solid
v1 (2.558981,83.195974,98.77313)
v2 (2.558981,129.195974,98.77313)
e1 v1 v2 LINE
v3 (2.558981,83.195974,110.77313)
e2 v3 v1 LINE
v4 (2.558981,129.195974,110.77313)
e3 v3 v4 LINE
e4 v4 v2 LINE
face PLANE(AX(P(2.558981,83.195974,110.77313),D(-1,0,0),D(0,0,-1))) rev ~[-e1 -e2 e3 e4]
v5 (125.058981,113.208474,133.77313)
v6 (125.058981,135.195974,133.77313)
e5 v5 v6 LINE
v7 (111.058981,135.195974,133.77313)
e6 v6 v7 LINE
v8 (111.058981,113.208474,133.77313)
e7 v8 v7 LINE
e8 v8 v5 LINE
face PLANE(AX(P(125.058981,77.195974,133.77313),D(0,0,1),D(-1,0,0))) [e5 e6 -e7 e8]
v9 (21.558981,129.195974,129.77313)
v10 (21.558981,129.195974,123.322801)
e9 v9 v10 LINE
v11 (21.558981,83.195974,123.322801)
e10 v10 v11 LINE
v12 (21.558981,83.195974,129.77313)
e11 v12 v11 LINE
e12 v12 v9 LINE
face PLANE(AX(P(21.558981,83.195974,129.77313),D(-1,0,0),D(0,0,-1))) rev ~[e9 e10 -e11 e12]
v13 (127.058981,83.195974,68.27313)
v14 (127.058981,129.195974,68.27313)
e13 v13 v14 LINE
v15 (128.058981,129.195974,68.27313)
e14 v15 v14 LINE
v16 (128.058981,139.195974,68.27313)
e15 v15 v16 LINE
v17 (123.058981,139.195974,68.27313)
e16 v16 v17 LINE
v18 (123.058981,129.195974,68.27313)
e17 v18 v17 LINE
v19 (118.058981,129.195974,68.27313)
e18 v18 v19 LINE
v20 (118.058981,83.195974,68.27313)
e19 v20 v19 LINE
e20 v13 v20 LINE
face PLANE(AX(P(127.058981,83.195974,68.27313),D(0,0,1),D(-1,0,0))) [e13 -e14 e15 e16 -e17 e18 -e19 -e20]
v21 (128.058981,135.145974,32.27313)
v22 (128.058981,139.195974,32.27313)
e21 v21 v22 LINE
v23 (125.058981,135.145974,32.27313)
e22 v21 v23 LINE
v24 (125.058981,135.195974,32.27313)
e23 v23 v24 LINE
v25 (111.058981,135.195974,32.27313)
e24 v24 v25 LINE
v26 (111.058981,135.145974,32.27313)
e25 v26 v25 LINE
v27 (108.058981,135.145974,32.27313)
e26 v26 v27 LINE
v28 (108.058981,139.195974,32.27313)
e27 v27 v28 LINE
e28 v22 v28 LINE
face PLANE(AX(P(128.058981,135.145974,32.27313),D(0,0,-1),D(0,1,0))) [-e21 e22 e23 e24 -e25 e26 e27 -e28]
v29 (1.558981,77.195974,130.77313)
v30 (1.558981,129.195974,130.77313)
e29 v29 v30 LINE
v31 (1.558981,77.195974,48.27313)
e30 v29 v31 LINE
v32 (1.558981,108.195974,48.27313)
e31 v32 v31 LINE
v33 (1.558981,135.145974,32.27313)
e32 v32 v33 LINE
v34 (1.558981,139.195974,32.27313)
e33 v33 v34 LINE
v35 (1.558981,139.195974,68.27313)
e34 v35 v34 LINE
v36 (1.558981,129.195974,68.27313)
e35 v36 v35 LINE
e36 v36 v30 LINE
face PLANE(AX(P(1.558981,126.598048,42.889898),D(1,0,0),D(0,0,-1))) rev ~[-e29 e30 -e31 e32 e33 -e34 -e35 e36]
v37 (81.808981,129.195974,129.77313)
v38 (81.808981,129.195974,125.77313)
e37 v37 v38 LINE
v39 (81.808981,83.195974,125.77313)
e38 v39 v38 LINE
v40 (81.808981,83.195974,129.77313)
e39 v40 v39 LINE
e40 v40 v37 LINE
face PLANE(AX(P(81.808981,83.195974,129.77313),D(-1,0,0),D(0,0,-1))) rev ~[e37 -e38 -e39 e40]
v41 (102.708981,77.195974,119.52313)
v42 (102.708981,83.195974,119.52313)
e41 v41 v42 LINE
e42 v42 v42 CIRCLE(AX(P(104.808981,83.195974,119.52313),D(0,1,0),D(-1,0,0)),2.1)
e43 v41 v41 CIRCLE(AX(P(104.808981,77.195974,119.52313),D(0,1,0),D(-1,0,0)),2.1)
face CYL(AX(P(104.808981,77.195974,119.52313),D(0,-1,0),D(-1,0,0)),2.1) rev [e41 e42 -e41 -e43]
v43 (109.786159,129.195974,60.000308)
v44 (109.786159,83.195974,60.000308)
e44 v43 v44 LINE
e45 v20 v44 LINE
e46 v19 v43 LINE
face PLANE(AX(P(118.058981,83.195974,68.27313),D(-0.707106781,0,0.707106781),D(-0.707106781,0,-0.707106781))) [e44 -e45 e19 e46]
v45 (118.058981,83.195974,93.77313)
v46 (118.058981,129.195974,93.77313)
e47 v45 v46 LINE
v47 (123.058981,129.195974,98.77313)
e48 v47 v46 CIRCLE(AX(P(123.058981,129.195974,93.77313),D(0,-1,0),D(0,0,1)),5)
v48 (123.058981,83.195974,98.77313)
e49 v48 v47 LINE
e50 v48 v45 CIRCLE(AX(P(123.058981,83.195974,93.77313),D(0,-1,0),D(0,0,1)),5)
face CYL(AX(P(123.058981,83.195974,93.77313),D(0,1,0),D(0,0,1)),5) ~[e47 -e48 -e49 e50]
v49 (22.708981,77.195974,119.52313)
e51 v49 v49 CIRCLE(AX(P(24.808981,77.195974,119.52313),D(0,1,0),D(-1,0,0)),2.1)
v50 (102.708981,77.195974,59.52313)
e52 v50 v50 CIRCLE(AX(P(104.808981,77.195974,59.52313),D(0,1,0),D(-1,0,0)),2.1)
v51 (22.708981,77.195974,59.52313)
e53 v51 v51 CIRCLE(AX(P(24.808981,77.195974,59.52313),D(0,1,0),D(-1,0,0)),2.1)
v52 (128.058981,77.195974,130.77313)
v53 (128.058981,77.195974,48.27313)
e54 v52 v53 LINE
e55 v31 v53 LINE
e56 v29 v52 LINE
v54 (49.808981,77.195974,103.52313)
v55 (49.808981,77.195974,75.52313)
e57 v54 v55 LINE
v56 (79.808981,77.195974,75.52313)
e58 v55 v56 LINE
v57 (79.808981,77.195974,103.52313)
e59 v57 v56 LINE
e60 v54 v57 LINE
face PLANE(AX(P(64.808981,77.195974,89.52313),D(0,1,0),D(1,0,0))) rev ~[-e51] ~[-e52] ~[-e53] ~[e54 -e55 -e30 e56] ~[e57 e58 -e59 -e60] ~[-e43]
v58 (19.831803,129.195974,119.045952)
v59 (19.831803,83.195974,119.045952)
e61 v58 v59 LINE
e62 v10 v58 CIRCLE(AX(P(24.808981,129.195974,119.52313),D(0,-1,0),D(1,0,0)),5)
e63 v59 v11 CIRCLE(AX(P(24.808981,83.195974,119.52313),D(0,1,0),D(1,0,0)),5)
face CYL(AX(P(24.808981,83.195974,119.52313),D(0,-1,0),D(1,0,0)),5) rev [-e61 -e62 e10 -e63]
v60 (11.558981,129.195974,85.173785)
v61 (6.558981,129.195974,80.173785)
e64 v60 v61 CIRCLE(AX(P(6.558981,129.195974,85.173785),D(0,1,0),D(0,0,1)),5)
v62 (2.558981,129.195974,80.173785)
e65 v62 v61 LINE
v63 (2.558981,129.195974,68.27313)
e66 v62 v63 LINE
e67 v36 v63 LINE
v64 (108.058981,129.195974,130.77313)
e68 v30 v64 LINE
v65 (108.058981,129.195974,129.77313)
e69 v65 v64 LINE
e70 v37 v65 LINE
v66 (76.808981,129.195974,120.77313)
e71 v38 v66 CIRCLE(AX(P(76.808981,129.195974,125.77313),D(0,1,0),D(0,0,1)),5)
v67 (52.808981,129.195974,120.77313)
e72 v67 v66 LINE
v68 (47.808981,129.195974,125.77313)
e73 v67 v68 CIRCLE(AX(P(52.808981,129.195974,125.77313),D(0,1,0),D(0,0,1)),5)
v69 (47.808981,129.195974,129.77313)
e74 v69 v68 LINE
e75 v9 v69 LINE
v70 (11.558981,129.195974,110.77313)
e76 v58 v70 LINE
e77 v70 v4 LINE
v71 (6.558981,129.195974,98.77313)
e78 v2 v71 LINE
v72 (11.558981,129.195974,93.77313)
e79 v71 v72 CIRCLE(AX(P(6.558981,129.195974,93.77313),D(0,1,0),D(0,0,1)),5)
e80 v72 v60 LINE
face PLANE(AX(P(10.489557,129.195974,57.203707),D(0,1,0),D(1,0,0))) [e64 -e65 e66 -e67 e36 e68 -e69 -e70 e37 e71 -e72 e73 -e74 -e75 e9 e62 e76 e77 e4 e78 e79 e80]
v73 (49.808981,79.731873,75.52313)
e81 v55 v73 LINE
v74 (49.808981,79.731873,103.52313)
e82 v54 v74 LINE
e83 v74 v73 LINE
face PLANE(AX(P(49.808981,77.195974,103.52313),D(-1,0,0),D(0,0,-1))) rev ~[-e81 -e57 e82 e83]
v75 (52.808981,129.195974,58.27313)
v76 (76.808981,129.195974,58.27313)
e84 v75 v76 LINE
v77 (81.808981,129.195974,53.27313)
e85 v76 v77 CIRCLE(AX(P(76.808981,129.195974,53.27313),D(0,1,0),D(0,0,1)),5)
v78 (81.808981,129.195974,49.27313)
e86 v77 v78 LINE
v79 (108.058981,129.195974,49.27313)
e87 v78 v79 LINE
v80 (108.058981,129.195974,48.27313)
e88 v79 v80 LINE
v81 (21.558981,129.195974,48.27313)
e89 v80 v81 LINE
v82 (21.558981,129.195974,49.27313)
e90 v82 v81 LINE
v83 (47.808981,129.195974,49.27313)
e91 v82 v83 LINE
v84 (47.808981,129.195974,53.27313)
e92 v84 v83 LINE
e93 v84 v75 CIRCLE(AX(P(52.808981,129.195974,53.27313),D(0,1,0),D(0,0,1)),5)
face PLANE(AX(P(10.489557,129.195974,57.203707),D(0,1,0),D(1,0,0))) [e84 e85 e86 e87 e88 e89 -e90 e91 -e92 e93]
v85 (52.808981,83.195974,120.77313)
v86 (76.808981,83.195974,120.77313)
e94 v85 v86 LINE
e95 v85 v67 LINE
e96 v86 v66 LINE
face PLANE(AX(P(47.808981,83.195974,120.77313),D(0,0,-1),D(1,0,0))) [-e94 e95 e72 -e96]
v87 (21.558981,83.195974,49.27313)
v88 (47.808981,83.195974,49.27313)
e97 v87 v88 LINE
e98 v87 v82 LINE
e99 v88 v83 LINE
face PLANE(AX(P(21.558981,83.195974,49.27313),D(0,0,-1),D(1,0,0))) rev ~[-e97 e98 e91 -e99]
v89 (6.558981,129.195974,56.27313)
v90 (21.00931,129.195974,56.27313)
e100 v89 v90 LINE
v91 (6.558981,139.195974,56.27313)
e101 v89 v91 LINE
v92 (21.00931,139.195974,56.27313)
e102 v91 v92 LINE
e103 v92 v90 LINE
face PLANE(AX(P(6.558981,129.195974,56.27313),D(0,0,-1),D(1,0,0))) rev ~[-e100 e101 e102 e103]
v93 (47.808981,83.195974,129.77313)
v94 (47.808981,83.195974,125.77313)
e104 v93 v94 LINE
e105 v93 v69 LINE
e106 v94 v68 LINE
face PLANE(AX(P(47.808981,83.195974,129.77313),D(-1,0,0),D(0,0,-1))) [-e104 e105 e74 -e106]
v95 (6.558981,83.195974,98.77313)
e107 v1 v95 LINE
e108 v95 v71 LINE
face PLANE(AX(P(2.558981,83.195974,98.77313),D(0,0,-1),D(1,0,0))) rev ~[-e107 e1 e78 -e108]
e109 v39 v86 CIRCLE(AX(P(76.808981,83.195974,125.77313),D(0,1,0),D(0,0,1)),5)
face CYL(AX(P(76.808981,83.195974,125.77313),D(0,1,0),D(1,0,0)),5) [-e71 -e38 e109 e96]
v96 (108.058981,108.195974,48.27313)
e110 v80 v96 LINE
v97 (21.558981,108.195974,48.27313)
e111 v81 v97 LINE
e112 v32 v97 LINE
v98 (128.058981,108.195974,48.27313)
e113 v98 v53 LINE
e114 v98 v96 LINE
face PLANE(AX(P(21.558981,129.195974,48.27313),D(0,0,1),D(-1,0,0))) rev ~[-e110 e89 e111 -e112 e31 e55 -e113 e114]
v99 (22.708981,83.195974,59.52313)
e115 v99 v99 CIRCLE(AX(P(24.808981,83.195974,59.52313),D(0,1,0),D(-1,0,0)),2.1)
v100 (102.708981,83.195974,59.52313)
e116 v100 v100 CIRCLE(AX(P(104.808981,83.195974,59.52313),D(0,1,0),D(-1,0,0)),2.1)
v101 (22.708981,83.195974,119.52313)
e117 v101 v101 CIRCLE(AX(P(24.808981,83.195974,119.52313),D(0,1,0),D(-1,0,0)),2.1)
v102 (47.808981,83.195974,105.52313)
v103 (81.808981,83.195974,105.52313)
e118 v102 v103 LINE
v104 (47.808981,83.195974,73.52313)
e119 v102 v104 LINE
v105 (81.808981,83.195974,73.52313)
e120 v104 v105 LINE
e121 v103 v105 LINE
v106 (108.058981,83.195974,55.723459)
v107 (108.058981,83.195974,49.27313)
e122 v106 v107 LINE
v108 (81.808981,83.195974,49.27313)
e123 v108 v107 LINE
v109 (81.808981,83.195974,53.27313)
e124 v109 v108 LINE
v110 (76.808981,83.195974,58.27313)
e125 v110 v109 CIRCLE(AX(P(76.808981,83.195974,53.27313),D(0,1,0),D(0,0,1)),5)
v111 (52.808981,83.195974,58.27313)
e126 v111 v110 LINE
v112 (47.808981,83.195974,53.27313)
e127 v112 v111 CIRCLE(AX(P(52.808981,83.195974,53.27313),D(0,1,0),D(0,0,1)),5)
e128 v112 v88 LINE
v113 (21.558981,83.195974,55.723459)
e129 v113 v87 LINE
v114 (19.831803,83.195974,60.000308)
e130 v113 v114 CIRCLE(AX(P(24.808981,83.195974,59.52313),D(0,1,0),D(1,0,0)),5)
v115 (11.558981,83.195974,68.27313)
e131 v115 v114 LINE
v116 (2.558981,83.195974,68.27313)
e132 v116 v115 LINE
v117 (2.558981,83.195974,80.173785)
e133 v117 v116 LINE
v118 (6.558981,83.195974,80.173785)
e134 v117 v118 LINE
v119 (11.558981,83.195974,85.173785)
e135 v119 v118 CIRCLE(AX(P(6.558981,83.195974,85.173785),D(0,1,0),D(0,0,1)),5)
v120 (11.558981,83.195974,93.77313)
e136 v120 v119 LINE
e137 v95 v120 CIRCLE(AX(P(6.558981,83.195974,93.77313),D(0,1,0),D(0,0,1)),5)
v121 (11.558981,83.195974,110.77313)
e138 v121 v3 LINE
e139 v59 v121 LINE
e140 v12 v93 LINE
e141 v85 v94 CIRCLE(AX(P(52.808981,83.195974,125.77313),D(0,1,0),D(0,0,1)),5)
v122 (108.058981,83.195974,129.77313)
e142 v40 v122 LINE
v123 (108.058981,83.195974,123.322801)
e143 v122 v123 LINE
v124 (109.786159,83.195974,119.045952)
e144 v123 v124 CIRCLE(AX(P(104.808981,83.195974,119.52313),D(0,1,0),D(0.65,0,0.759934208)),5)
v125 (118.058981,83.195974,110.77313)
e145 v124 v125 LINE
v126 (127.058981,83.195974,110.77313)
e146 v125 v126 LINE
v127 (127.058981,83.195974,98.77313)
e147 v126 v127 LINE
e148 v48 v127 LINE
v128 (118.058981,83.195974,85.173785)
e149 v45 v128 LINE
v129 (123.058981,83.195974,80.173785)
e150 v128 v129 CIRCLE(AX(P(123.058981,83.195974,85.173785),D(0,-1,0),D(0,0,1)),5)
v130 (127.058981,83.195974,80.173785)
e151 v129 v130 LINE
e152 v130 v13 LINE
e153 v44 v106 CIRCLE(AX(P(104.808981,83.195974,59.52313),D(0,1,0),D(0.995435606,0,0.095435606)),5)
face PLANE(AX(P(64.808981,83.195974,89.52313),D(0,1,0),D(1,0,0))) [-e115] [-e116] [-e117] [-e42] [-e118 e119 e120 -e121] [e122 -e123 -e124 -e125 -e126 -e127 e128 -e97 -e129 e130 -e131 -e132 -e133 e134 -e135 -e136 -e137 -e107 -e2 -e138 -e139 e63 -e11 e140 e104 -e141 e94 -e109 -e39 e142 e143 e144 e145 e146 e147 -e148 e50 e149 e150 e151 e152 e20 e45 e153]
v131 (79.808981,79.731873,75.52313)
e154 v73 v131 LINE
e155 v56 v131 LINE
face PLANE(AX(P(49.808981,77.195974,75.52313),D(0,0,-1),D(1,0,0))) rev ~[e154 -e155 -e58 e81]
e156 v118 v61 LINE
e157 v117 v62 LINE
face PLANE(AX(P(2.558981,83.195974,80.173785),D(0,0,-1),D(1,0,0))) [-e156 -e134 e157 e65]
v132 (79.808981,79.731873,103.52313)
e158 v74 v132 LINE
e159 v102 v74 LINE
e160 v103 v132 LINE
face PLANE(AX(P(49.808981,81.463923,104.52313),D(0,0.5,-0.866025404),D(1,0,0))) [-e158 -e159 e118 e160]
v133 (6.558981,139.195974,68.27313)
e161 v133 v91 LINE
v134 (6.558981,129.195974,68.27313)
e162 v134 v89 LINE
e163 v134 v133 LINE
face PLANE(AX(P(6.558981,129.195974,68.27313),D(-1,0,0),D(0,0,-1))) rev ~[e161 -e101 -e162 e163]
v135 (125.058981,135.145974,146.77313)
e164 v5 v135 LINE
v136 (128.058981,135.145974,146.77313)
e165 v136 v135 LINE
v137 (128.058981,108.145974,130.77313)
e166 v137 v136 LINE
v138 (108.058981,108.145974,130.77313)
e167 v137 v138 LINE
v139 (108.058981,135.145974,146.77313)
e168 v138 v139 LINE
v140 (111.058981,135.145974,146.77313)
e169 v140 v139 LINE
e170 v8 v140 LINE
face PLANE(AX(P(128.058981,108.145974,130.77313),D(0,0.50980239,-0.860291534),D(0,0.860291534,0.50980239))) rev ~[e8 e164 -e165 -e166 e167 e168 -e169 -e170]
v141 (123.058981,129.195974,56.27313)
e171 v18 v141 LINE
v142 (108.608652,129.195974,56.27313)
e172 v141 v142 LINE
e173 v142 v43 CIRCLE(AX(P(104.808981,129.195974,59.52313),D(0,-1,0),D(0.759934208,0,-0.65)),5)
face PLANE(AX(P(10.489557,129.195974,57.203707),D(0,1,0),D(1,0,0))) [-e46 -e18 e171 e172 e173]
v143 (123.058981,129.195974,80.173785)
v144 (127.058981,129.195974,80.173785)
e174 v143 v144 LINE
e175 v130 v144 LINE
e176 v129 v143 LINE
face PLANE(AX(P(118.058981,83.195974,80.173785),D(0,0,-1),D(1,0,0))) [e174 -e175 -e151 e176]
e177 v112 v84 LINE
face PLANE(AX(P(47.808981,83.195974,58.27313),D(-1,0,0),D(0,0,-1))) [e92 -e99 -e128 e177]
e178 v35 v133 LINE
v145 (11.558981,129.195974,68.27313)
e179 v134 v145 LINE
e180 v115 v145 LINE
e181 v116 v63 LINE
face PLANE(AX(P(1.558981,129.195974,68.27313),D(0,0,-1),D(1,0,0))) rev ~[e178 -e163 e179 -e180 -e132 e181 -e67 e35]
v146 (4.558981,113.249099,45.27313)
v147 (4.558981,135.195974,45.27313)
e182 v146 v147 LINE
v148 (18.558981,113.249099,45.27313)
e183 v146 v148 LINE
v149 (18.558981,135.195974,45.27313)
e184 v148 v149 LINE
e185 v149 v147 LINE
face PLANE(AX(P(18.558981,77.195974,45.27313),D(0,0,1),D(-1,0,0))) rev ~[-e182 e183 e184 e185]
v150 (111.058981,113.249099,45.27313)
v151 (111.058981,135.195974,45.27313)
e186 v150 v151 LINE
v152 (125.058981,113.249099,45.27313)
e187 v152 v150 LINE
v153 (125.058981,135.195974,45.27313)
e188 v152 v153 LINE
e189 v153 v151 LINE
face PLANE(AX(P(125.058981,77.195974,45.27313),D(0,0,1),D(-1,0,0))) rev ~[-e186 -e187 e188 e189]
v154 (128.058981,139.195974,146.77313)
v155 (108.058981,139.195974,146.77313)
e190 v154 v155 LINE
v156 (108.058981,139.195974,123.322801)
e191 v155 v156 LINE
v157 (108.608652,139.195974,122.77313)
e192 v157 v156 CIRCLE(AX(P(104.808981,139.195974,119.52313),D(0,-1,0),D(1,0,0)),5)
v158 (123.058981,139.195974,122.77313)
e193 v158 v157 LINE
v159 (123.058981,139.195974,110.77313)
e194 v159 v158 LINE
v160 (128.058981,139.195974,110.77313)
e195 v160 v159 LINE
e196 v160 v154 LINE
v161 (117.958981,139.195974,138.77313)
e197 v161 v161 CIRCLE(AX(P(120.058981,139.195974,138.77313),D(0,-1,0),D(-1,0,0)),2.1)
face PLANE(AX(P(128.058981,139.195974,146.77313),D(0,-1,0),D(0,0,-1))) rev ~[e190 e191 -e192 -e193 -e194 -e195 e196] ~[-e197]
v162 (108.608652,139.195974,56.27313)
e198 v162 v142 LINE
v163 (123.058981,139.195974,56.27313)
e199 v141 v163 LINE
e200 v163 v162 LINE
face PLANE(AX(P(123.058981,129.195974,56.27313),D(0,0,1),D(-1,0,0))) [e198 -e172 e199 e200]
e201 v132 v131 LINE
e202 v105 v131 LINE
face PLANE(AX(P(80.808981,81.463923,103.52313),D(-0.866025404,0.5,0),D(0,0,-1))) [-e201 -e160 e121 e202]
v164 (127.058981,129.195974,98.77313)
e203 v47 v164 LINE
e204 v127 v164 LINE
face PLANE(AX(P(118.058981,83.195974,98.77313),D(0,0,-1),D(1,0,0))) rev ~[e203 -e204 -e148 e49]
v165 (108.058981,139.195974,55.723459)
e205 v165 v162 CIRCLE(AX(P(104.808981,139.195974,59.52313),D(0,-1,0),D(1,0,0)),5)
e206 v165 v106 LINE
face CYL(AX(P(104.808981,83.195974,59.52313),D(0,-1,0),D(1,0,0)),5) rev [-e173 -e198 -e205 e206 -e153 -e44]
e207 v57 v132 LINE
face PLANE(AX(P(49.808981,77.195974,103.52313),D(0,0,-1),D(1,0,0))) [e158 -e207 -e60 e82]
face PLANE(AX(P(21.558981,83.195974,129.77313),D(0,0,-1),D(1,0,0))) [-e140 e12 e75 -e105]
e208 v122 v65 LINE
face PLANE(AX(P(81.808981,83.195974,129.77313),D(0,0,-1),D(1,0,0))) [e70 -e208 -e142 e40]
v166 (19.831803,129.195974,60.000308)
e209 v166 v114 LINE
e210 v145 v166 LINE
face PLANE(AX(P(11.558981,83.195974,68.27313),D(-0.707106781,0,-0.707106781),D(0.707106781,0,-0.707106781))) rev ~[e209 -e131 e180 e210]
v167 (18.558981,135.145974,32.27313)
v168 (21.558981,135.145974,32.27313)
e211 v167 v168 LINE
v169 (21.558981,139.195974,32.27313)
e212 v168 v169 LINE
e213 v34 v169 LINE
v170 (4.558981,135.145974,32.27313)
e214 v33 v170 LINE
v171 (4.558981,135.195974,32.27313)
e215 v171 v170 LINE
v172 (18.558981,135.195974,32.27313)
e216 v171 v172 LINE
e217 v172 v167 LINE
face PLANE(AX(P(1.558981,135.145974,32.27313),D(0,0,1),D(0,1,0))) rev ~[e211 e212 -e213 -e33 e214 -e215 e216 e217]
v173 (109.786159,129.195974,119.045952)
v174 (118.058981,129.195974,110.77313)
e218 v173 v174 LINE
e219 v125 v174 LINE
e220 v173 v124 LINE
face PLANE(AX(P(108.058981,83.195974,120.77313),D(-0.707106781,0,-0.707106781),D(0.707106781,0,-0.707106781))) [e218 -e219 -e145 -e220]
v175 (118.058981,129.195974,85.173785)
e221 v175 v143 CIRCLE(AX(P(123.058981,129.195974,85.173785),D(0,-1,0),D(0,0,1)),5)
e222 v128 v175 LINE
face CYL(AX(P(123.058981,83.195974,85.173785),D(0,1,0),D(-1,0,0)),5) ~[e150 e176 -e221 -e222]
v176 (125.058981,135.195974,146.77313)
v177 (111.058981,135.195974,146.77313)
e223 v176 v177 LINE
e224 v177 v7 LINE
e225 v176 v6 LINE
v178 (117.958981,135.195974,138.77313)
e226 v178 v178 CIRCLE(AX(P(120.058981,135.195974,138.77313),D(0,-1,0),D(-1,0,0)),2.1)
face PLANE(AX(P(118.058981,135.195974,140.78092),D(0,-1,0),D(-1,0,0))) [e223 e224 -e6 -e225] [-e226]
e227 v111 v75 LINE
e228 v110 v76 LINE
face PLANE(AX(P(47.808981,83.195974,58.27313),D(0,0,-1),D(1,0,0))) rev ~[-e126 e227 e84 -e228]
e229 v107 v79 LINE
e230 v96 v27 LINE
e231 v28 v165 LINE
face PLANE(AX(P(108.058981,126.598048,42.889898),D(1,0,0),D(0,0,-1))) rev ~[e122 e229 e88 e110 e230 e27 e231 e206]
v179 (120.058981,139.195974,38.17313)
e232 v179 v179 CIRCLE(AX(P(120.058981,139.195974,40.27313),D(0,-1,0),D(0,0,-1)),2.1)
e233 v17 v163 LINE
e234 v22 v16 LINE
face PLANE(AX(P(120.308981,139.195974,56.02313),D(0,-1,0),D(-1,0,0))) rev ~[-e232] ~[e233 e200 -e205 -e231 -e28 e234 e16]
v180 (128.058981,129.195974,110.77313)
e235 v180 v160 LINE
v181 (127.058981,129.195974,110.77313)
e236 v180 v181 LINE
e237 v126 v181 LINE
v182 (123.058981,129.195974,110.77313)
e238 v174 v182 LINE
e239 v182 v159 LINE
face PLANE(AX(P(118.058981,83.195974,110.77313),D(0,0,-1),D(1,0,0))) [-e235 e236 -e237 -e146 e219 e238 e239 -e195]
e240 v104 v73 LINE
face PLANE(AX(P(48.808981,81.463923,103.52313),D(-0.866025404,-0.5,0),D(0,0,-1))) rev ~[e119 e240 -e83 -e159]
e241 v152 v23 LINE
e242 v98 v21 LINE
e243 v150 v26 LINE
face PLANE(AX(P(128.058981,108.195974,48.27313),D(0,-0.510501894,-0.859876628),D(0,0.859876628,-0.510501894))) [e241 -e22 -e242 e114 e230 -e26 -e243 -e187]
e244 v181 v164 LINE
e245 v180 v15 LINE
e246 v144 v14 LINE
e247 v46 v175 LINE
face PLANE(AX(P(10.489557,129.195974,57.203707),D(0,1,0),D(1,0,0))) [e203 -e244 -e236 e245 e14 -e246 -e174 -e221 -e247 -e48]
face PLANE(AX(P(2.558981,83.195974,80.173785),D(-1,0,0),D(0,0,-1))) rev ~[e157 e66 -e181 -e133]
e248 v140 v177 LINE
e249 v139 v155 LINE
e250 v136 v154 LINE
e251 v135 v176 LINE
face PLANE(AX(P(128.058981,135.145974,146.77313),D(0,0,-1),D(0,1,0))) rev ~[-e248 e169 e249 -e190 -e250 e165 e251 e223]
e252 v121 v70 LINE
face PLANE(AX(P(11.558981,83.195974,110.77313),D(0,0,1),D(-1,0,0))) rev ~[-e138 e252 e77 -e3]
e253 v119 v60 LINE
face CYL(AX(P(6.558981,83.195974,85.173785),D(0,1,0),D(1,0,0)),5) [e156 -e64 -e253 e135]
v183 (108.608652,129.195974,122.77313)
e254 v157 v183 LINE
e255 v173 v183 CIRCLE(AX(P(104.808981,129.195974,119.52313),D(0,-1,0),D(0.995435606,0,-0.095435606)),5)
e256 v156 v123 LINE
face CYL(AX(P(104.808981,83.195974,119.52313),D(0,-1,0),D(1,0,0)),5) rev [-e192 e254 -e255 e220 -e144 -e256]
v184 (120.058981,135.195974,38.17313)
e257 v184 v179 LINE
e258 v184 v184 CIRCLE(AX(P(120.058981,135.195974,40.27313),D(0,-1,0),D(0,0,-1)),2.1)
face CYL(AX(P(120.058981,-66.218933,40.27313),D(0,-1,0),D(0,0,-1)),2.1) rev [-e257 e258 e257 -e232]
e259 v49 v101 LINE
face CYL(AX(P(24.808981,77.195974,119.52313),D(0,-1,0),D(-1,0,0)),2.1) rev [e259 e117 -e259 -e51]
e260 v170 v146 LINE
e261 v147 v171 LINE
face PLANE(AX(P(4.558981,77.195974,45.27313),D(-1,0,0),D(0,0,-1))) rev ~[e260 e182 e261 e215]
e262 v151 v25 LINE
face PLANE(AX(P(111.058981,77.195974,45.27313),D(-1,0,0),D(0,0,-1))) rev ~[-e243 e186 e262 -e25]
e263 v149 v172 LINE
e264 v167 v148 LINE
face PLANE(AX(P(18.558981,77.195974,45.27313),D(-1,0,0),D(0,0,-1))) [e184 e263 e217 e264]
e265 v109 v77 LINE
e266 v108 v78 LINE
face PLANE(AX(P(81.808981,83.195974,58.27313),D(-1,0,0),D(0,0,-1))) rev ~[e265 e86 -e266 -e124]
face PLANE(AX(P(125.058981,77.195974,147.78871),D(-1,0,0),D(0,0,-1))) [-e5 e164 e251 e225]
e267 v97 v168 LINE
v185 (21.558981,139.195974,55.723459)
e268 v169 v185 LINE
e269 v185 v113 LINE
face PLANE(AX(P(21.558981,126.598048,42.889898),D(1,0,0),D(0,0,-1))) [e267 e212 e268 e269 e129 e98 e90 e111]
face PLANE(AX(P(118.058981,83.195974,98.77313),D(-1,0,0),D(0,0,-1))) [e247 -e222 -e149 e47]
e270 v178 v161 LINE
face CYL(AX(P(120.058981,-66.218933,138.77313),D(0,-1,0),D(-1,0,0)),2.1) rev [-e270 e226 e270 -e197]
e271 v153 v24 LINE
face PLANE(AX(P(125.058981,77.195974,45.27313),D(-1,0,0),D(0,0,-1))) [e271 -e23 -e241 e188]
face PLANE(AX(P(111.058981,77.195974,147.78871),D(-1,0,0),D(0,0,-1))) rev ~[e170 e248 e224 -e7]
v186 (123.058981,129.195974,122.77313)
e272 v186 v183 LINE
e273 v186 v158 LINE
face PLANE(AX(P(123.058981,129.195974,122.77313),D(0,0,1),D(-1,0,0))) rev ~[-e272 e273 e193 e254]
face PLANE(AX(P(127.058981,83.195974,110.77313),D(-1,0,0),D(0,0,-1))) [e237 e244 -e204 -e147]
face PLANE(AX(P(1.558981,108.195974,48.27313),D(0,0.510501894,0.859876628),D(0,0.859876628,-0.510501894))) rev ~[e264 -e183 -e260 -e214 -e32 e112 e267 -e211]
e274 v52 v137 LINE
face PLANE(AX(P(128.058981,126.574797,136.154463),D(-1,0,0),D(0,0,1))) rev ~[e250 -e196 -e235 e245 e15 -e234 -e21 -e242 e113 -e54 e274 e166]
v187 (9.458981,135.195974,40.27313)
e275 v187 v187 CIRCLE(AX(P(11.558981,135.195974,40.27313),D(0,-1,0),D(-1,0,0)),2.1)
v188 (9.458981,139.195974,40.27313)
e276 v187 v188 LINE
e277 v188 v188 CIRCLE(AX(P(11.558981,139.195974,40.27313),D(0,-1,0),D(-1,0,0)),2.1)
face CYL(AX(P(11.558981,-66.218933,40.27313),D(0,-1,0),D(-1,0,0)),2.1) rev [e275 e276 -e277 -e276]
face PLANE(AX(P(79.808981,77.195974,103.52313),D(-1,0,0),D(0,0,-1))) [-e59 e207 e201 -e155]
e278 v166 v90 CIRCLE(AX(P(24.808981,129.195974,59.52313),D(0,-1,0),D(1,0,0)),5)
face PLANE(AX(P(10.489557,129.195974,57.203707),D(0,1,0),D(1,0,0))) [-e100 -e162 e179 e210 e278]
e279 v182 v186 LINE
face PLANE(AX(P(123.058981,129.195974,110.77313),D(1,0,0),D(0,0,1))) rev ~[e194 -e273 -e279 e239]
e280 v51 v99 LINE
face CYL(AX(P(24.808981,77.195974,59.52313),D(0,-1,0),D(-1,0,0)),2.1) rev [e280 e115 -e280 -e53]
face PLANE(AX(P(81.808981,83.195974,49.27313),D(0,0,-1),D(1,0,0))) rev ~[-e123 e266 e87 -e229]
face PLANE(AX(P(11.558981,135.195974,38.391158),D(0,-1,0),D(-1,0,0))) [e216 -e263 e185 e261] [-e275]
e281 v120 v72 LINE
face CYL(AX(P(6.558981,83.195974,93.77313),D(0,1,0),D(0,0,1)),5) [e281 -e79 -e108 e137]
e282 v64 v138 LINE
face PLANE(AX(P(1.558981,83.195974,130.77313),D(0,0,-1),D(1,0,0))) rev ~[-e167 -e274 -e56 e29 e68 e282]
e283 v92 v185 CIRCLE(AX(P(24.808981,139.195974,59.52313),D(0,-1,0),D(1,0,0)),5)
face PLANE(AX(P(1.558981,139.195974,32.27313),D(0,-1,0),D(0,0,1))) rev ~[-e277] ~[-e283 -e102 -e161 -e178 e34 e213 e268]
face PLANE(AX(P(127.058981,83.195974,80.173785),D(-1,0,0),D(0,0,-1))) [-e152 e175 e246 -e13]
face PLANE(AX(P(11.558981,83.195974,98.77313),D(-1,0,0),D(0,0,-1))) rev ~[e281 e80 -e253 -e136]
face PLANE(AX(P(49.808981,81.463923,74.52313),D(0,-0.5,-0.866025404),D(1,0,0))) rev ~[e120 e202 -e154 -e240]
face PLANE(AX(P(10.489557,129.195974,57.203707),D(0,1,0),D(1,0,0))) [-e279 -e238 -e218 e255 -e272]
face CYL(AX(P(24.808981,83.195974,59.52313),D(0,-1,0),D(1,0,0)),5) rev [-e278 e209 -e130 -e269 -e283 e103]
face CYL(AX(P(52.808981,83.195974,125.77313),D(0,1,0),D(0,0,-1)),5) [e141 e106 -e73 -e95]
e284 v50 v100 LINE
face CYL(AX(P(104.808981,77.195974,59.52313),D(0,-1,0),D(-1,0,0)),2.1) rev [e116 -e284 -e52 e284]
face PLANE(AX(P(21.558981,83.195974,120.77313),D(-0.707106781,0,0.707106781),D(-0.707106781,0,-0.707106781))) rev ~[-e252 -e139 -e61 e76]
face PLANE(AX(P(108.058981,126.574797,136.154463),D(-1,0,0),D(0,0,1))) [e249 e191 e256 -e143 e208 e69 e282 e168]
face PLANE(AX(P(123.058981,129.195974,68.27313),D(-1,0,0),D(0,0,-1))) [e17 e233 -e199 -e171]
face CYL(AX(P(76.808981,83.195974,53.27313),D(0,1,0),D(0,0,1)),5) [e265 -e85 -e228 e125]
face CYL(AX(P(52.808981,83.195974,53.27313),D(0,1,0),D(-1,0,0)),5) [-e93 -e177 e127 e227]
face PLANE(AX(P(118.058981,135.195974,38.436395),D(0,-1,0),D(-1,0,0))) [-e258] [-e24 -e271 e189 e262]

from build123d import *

# Parameters (mm, degrees)
SKETCH_1_W               = 126.5
SKETCH_1_H               = 82.5
SKETCH_1_R               = 2.1
SKETCH_1_W_2             = 30
SKETCH_1_H_2             = 28
EXTRUDE_2_DEPTH          = 6
CHAMFER_1_SIZE           = 2
CHAMFER_1_SIZE2          = 3.464101615
SKETCH_2_W               = 34
SKETCH_2_H               = 10
SKETCH_2_W_2             = 10
SKETCH_2_H_2             = 18.59934511
SKETCH_2_W_3             = 1
SKETCH_2_H_3             = 11.900654894
SKETCH_2_H_4             = 18.599345106
SKETCH_2_H_5             = 12
SKETCH_2_W_4             = 26.25
SKETCH_2_H_6             = 1
SKETCH_2_H_7             = 11.999999996
EXTRUDE_3_DEPTH          = 46
EXTRUDE_4_DEPTH          = 10
EXTRUDE_7_DEPTH          = 20
EXTRUDE_8_DEPTH          = 20
CUT_EXTRUDE_1_DEPTH      = 205.414906938
CUT_EXTRUDE_1_DEPTH_BACK = 205.414906938
SKETCH_6_R               = 2.1
SKETCH_7_W               = 14
SKETCH_7_H               = 13.763943164
SKETCH_7_H_2             = 13.67346934
SKETCH_7_H_3             = 14.015580363
SKETCH_7_H_4             = 13.891937121
CUT_EXTRUDE_2_DEPTH      = 58
FILLET_1_R               = 5
SKETCH_9_R               = 5
CUT_EXTRUDE_4_DEPTH      = 203.675736531


with BuildPart() as part:
    # Эскиз1 → Бобышка-Вытянуть2 (new body)
    with BuildSketch(Plane(origin=(0, 77.195974268, 0), x_dir=(1, 0, 0), z_dir=(0, 1, 0))):
        with Locations((64.808980694, -89.523129836)):
            Rectangle(SKETCH_1_W, SKETCH_1_H)
        with Locations(Location((24.808980694, -59.523129836, 0), (0, 0, 180))):
            Circle(SKETCH_1_R, mode=Mode.SUBTRACT)
        with Locations(Location((104.808980694, -59.523129836, 0), (0, 0, 180))):
            Circle(SKETCH_1_R, mode=Mode.SUBTRACT)
        with Locations(Location((104.808980694, -119.523129836, 0), (0, 0, 180))):
            Circle(SKETCH_1_R, mode=Mode.SUBTRACT)
        with Locations(Location((24.808980694, -119.523129836, 0), (0, 0, 180))):
            Circle(SKETCH_1_R, mode=Mode.SUBTRACT)
        with Locations((64.808980694, -89.523129836)):
            Rectangle(SKETCH_1_W_2, SKETCH_1_H_2, mode=Mode.SUBTRACT)
    extrude(amount=EXTRUDE_2_DEPTH)

    # Фаска1
    chamfer_1_edges = [part.edges().sort_by_distance(p)[0] for p in [
        (49.808980694, 83.195974268, 89.523129836),
        (64.808980694, 83.195974268, 103.523129836),
        (79.808980694, 83.195974268, 89.523129836),
        (64.808980694, 83.195974268, 75.523129836),
    ]]
    chamfer_1_side = [part.faces().sort_by_distance(p)[0] for p in [
        (64.808980694, 83.195974268, 49.78337816),
    ]]
    chamfer(chamfer_1_edges, length=CHAMFER_1_SIZE, length2=CHAMFER_1_SIZE2, reference=chamfer_1_side[0])

    # Эскиз2 → Бобышка-Вытянуть3 (add)
    with BuildSketch(Plane(origin=(0, 83.195974268, 0), x_dir=(1, 0, 0), z_dir=(0, 1, 0))):
        Polygon((1.558980694, -68.273129836), (11.558980694, -68.273129836), (21.558980694, -58.273129836), (21.558980694, -48.273129836), (1.558980694, -48.273129836), align=None)
        with Locations((64.808980694, -53.273129836)):
            Rectangle(SKETCH_2_W, SKETCH_2_H)
        Polygon((118.058980694, -68.273129836), (108.058980694, -58.273129836), (108.058980694, -48.273129836), (128.058980694, -48.273129836), (128.058980694, -68.273129836), align=None)
        with Locations((123.058980694, -89.473457285)):
            Rectangle(SKETCH_2_W_2, SKETCH_2_H_2)
        Polygon((108.058980694, -120.773129836), (118.058980694, -110.773129836), (128.058980694, -110.773129836), (128.058980694, -130.773129836), (108.058980694, -130.773129836), align=None)
        with Locations((64.808980694, -125.773129836)):
            Rectangle(SKETCH_2_W, SKETCH_2_H)
        Polygon((21.558980694, -130.773129836), (21.558980694, -120.773129836), (11.558980694, -110.773129836), (1.558980694, -110.773129836), (1.558980694, -130.773129836), align=None)
        with Locations((2.058980694, -74.223457283)):
            Rectangle(SKETCH_2_W_3, SKETCH_2_H_3)
        with Locations((6.558980694, -89.473457283)):
            Rectangle(SKETCH_2_W_2, SKETCH_2_H_4)
        with Locations((2.058980694, -104.773129836)):
            Rectangle(SKETCH_2_W_3, SKETCH_2_H_5)
        with Locations((34.683980694, -130.273129836)):
            Rectangle(SKETCH_2_W_4, SKETCH_2_H_6)
        with Locations((94.933980694, -130.273129836)):
            Rectangle(SKETCH_2_W_4, SKETCH_2_H_6)
        with Locations((127.558980694, -104.773129838)):
            Rectangle(SKETCH_2_W_3, SKETCH_2_H_7)
        with Locations((127.558980694, -74.223457283)):
            Rectangle(SKETCH_2_W_3, SKETCH_2_H_3)
        with Locations((94.933980694, -48.773129836)):
            Rectangle(SKETCH_2_W_4, SKETCH_2_H_6)
        with Locations((34.683980694, -48.773129836)):
            Rectangle(SKETCH_2_W_4, SKETCH_2_H_6)
    extrude(amount=EXTRUDE_3_DEPTH)

    # Эскиз3 → Бобышка-Вытянуть4 (add)
    with BuildSketch(Plane(origin=(0, 129.195974268, 0), x_dir=(1, 0, 0), z_dir=(0, 1, 0))):
        Polygon((6.558980694, -68.273129836), (6.558980694, -56.273129836), (21.558980694, -56.273129836), (21.558980694, -48.273129836), (1.558980694, -48.273129836), (1.558980694, -68.273129836), align=None)
        Polygon((123.058980694, -68.273129836), (123.058980694, -56.273129836), (108.058980694, -56.273129836), (108.058980694, -48.273129836), (128.058980694, -48.273129836), (128.058980694, -68.273129836), align=None)
        Polygon((123.058980694, -110.773129836), (123.058980694, -122.773129836), (108.058980694, -122.773129836), (108.058980694, -130.773129836), (128.058980694, -130.773129836), (128.058980694, -110.773129836), align=None)
    extrude(amount=EXTRUDE_4_DEPTH)

    # Эскиз4 → Бобышка-Вытянуть7 (add)
    with BuildSketch(Plane.ZY.offset(-1.558980694)):
        Polygon((48.273129836, 139.195974268), (48.273129836, 108.195974268), (32.273129836, 135.145974268), (32.273129836, 139.195974268), align=None)
    extrude(amount=-EXTRUDE_7_DEPTH)

    # Эскиз5 → Бобышка-Вытянуть8 (add)
    with BuildSketch(Plane(origin=(128.058980694, 0, 0), x_dir=(0, 0, -1), z_dir=(1, 0, 0))):
        Polygon((-130.773129836, 139.195974268), (-130.773129836, 108.145974268), (-146.773129836, 135.145974268), (-146.773129836, 139.195974268), align=None)
        Polygon((-48.273129836, 139.195974268), (-48.273129836, 108.195974268), (-32.273129836, 135.145974268), (-32.273129836, 139.195974268), align=None)
    extrude(amount=-EXTRUDE_8_DEPTH)

    # Эскиз6 → Вырез-Вытянуть1 (cut, two sides: drawn at the far end of the back side and taken through both)
    with BuildSketch(Plane(origin=(0, 139.195974268, 0), x_dir=(1, 0, 0), z_dir=(0, 1, 0)).offset(-CUT_EXTRUDE_1_DEPTH_BACK)):
        with Locations(Location((120.058980694, -40.273129836, 0), (0, 0, 90))):
            Circle(SKETCH_6_R)
        with Locations(Location((11.55898069, -40.273129836, 0), (0, 0, 180))):
            Circle(SKETCH_6_R)
        with Locations((11.55898069, -138.773129836)):
            Circle(SKETCH_6_R)
        with Locations(Location((120.058980694, -138.773129836, 0), (0, 0, 180))):
            Circle(SKETCH_6_R)
    extrude(amount=CUT_EXTRUDE_1_DEPTH + CUT_EXTRUDE_1_DEPTH_BACK, mode=Mode.SUBTRACT)

    # Эскиз7 → Вырез-Вытянуть2 (cut)
    with BuildSketch(Plane(origin=(0, 77.195974268, 0), x_dir=(-1, 0, 0), z_dir=(0, -1, 0))):
        with Locations((-11.558980694, -38.391158254)):
            Rectangle(SKETCH_7_W, SKETCH_7_H)
        with Locations((-118.058980694, -38.436395166)):
            Rectangle(SKETCH_7_W, SKETCH_7_H_2)
        with Locations((-118.058980694, -140.780920018)):
            Rectangle(SKETCH_7_W, SKETCH_7_H_3)
        with Locations((-11.558980694, -140.719098397)):
            Rectangle(SKETCH_7_W, SKETCH_7_H_4)
    extrude(amount=-CUT_EXTRUDE_2_DEPTH, mode=Mode.SUBTRACT)

    # Скругление1
    fillet_1_edges = [part.edges().sort_by_distance(p)[0] for p in [
        (81.808980694, 106.195974268, 120.773129836),
        (47.808980694, 106.195974268, 120.773129836),
        (11.558980694, 106.195974268, 98.773129836),
        (11.558980694, 106.195974268, 80.17378473),
        (47.808980694, 106.195974268, 58.273129836),
        (81.808980694, 106.195974268, 58.273129836),
        (118.058980694, 106.195974268, 80.17378473),
        (118.058980694, 106.195974268, 98.77312984),
    ]]
    fillet(fillet_1_edges, radius=FILLET_1_R)

    # Эскиз9 → Вырез-Вытянуть4 (cut, through all)
    with BuildSketch(Plane(origin=(0, 83.195974268, 0), x_dir=(1, 0, 0), z_dir=(0, 1, 0))):
        with Locations((24.808980694, -59.523129836)):
            Circle(SKETCH_9_R)
        with Locations((104.808980694, -59.523129836)):
            Circle(SKETCH_9_R)
        with Locations((104.808980694, -119.523129836)):
            Circle(SKETCH_9_R)
        with Locations((24.808980694, -119.523129836)):
            Circle(SKETCH_9_R)
    extrude(amount=CUT_EXTRUDE_4_DEPTH, mode=Mode.SUBTRACT)


solid = part.part
